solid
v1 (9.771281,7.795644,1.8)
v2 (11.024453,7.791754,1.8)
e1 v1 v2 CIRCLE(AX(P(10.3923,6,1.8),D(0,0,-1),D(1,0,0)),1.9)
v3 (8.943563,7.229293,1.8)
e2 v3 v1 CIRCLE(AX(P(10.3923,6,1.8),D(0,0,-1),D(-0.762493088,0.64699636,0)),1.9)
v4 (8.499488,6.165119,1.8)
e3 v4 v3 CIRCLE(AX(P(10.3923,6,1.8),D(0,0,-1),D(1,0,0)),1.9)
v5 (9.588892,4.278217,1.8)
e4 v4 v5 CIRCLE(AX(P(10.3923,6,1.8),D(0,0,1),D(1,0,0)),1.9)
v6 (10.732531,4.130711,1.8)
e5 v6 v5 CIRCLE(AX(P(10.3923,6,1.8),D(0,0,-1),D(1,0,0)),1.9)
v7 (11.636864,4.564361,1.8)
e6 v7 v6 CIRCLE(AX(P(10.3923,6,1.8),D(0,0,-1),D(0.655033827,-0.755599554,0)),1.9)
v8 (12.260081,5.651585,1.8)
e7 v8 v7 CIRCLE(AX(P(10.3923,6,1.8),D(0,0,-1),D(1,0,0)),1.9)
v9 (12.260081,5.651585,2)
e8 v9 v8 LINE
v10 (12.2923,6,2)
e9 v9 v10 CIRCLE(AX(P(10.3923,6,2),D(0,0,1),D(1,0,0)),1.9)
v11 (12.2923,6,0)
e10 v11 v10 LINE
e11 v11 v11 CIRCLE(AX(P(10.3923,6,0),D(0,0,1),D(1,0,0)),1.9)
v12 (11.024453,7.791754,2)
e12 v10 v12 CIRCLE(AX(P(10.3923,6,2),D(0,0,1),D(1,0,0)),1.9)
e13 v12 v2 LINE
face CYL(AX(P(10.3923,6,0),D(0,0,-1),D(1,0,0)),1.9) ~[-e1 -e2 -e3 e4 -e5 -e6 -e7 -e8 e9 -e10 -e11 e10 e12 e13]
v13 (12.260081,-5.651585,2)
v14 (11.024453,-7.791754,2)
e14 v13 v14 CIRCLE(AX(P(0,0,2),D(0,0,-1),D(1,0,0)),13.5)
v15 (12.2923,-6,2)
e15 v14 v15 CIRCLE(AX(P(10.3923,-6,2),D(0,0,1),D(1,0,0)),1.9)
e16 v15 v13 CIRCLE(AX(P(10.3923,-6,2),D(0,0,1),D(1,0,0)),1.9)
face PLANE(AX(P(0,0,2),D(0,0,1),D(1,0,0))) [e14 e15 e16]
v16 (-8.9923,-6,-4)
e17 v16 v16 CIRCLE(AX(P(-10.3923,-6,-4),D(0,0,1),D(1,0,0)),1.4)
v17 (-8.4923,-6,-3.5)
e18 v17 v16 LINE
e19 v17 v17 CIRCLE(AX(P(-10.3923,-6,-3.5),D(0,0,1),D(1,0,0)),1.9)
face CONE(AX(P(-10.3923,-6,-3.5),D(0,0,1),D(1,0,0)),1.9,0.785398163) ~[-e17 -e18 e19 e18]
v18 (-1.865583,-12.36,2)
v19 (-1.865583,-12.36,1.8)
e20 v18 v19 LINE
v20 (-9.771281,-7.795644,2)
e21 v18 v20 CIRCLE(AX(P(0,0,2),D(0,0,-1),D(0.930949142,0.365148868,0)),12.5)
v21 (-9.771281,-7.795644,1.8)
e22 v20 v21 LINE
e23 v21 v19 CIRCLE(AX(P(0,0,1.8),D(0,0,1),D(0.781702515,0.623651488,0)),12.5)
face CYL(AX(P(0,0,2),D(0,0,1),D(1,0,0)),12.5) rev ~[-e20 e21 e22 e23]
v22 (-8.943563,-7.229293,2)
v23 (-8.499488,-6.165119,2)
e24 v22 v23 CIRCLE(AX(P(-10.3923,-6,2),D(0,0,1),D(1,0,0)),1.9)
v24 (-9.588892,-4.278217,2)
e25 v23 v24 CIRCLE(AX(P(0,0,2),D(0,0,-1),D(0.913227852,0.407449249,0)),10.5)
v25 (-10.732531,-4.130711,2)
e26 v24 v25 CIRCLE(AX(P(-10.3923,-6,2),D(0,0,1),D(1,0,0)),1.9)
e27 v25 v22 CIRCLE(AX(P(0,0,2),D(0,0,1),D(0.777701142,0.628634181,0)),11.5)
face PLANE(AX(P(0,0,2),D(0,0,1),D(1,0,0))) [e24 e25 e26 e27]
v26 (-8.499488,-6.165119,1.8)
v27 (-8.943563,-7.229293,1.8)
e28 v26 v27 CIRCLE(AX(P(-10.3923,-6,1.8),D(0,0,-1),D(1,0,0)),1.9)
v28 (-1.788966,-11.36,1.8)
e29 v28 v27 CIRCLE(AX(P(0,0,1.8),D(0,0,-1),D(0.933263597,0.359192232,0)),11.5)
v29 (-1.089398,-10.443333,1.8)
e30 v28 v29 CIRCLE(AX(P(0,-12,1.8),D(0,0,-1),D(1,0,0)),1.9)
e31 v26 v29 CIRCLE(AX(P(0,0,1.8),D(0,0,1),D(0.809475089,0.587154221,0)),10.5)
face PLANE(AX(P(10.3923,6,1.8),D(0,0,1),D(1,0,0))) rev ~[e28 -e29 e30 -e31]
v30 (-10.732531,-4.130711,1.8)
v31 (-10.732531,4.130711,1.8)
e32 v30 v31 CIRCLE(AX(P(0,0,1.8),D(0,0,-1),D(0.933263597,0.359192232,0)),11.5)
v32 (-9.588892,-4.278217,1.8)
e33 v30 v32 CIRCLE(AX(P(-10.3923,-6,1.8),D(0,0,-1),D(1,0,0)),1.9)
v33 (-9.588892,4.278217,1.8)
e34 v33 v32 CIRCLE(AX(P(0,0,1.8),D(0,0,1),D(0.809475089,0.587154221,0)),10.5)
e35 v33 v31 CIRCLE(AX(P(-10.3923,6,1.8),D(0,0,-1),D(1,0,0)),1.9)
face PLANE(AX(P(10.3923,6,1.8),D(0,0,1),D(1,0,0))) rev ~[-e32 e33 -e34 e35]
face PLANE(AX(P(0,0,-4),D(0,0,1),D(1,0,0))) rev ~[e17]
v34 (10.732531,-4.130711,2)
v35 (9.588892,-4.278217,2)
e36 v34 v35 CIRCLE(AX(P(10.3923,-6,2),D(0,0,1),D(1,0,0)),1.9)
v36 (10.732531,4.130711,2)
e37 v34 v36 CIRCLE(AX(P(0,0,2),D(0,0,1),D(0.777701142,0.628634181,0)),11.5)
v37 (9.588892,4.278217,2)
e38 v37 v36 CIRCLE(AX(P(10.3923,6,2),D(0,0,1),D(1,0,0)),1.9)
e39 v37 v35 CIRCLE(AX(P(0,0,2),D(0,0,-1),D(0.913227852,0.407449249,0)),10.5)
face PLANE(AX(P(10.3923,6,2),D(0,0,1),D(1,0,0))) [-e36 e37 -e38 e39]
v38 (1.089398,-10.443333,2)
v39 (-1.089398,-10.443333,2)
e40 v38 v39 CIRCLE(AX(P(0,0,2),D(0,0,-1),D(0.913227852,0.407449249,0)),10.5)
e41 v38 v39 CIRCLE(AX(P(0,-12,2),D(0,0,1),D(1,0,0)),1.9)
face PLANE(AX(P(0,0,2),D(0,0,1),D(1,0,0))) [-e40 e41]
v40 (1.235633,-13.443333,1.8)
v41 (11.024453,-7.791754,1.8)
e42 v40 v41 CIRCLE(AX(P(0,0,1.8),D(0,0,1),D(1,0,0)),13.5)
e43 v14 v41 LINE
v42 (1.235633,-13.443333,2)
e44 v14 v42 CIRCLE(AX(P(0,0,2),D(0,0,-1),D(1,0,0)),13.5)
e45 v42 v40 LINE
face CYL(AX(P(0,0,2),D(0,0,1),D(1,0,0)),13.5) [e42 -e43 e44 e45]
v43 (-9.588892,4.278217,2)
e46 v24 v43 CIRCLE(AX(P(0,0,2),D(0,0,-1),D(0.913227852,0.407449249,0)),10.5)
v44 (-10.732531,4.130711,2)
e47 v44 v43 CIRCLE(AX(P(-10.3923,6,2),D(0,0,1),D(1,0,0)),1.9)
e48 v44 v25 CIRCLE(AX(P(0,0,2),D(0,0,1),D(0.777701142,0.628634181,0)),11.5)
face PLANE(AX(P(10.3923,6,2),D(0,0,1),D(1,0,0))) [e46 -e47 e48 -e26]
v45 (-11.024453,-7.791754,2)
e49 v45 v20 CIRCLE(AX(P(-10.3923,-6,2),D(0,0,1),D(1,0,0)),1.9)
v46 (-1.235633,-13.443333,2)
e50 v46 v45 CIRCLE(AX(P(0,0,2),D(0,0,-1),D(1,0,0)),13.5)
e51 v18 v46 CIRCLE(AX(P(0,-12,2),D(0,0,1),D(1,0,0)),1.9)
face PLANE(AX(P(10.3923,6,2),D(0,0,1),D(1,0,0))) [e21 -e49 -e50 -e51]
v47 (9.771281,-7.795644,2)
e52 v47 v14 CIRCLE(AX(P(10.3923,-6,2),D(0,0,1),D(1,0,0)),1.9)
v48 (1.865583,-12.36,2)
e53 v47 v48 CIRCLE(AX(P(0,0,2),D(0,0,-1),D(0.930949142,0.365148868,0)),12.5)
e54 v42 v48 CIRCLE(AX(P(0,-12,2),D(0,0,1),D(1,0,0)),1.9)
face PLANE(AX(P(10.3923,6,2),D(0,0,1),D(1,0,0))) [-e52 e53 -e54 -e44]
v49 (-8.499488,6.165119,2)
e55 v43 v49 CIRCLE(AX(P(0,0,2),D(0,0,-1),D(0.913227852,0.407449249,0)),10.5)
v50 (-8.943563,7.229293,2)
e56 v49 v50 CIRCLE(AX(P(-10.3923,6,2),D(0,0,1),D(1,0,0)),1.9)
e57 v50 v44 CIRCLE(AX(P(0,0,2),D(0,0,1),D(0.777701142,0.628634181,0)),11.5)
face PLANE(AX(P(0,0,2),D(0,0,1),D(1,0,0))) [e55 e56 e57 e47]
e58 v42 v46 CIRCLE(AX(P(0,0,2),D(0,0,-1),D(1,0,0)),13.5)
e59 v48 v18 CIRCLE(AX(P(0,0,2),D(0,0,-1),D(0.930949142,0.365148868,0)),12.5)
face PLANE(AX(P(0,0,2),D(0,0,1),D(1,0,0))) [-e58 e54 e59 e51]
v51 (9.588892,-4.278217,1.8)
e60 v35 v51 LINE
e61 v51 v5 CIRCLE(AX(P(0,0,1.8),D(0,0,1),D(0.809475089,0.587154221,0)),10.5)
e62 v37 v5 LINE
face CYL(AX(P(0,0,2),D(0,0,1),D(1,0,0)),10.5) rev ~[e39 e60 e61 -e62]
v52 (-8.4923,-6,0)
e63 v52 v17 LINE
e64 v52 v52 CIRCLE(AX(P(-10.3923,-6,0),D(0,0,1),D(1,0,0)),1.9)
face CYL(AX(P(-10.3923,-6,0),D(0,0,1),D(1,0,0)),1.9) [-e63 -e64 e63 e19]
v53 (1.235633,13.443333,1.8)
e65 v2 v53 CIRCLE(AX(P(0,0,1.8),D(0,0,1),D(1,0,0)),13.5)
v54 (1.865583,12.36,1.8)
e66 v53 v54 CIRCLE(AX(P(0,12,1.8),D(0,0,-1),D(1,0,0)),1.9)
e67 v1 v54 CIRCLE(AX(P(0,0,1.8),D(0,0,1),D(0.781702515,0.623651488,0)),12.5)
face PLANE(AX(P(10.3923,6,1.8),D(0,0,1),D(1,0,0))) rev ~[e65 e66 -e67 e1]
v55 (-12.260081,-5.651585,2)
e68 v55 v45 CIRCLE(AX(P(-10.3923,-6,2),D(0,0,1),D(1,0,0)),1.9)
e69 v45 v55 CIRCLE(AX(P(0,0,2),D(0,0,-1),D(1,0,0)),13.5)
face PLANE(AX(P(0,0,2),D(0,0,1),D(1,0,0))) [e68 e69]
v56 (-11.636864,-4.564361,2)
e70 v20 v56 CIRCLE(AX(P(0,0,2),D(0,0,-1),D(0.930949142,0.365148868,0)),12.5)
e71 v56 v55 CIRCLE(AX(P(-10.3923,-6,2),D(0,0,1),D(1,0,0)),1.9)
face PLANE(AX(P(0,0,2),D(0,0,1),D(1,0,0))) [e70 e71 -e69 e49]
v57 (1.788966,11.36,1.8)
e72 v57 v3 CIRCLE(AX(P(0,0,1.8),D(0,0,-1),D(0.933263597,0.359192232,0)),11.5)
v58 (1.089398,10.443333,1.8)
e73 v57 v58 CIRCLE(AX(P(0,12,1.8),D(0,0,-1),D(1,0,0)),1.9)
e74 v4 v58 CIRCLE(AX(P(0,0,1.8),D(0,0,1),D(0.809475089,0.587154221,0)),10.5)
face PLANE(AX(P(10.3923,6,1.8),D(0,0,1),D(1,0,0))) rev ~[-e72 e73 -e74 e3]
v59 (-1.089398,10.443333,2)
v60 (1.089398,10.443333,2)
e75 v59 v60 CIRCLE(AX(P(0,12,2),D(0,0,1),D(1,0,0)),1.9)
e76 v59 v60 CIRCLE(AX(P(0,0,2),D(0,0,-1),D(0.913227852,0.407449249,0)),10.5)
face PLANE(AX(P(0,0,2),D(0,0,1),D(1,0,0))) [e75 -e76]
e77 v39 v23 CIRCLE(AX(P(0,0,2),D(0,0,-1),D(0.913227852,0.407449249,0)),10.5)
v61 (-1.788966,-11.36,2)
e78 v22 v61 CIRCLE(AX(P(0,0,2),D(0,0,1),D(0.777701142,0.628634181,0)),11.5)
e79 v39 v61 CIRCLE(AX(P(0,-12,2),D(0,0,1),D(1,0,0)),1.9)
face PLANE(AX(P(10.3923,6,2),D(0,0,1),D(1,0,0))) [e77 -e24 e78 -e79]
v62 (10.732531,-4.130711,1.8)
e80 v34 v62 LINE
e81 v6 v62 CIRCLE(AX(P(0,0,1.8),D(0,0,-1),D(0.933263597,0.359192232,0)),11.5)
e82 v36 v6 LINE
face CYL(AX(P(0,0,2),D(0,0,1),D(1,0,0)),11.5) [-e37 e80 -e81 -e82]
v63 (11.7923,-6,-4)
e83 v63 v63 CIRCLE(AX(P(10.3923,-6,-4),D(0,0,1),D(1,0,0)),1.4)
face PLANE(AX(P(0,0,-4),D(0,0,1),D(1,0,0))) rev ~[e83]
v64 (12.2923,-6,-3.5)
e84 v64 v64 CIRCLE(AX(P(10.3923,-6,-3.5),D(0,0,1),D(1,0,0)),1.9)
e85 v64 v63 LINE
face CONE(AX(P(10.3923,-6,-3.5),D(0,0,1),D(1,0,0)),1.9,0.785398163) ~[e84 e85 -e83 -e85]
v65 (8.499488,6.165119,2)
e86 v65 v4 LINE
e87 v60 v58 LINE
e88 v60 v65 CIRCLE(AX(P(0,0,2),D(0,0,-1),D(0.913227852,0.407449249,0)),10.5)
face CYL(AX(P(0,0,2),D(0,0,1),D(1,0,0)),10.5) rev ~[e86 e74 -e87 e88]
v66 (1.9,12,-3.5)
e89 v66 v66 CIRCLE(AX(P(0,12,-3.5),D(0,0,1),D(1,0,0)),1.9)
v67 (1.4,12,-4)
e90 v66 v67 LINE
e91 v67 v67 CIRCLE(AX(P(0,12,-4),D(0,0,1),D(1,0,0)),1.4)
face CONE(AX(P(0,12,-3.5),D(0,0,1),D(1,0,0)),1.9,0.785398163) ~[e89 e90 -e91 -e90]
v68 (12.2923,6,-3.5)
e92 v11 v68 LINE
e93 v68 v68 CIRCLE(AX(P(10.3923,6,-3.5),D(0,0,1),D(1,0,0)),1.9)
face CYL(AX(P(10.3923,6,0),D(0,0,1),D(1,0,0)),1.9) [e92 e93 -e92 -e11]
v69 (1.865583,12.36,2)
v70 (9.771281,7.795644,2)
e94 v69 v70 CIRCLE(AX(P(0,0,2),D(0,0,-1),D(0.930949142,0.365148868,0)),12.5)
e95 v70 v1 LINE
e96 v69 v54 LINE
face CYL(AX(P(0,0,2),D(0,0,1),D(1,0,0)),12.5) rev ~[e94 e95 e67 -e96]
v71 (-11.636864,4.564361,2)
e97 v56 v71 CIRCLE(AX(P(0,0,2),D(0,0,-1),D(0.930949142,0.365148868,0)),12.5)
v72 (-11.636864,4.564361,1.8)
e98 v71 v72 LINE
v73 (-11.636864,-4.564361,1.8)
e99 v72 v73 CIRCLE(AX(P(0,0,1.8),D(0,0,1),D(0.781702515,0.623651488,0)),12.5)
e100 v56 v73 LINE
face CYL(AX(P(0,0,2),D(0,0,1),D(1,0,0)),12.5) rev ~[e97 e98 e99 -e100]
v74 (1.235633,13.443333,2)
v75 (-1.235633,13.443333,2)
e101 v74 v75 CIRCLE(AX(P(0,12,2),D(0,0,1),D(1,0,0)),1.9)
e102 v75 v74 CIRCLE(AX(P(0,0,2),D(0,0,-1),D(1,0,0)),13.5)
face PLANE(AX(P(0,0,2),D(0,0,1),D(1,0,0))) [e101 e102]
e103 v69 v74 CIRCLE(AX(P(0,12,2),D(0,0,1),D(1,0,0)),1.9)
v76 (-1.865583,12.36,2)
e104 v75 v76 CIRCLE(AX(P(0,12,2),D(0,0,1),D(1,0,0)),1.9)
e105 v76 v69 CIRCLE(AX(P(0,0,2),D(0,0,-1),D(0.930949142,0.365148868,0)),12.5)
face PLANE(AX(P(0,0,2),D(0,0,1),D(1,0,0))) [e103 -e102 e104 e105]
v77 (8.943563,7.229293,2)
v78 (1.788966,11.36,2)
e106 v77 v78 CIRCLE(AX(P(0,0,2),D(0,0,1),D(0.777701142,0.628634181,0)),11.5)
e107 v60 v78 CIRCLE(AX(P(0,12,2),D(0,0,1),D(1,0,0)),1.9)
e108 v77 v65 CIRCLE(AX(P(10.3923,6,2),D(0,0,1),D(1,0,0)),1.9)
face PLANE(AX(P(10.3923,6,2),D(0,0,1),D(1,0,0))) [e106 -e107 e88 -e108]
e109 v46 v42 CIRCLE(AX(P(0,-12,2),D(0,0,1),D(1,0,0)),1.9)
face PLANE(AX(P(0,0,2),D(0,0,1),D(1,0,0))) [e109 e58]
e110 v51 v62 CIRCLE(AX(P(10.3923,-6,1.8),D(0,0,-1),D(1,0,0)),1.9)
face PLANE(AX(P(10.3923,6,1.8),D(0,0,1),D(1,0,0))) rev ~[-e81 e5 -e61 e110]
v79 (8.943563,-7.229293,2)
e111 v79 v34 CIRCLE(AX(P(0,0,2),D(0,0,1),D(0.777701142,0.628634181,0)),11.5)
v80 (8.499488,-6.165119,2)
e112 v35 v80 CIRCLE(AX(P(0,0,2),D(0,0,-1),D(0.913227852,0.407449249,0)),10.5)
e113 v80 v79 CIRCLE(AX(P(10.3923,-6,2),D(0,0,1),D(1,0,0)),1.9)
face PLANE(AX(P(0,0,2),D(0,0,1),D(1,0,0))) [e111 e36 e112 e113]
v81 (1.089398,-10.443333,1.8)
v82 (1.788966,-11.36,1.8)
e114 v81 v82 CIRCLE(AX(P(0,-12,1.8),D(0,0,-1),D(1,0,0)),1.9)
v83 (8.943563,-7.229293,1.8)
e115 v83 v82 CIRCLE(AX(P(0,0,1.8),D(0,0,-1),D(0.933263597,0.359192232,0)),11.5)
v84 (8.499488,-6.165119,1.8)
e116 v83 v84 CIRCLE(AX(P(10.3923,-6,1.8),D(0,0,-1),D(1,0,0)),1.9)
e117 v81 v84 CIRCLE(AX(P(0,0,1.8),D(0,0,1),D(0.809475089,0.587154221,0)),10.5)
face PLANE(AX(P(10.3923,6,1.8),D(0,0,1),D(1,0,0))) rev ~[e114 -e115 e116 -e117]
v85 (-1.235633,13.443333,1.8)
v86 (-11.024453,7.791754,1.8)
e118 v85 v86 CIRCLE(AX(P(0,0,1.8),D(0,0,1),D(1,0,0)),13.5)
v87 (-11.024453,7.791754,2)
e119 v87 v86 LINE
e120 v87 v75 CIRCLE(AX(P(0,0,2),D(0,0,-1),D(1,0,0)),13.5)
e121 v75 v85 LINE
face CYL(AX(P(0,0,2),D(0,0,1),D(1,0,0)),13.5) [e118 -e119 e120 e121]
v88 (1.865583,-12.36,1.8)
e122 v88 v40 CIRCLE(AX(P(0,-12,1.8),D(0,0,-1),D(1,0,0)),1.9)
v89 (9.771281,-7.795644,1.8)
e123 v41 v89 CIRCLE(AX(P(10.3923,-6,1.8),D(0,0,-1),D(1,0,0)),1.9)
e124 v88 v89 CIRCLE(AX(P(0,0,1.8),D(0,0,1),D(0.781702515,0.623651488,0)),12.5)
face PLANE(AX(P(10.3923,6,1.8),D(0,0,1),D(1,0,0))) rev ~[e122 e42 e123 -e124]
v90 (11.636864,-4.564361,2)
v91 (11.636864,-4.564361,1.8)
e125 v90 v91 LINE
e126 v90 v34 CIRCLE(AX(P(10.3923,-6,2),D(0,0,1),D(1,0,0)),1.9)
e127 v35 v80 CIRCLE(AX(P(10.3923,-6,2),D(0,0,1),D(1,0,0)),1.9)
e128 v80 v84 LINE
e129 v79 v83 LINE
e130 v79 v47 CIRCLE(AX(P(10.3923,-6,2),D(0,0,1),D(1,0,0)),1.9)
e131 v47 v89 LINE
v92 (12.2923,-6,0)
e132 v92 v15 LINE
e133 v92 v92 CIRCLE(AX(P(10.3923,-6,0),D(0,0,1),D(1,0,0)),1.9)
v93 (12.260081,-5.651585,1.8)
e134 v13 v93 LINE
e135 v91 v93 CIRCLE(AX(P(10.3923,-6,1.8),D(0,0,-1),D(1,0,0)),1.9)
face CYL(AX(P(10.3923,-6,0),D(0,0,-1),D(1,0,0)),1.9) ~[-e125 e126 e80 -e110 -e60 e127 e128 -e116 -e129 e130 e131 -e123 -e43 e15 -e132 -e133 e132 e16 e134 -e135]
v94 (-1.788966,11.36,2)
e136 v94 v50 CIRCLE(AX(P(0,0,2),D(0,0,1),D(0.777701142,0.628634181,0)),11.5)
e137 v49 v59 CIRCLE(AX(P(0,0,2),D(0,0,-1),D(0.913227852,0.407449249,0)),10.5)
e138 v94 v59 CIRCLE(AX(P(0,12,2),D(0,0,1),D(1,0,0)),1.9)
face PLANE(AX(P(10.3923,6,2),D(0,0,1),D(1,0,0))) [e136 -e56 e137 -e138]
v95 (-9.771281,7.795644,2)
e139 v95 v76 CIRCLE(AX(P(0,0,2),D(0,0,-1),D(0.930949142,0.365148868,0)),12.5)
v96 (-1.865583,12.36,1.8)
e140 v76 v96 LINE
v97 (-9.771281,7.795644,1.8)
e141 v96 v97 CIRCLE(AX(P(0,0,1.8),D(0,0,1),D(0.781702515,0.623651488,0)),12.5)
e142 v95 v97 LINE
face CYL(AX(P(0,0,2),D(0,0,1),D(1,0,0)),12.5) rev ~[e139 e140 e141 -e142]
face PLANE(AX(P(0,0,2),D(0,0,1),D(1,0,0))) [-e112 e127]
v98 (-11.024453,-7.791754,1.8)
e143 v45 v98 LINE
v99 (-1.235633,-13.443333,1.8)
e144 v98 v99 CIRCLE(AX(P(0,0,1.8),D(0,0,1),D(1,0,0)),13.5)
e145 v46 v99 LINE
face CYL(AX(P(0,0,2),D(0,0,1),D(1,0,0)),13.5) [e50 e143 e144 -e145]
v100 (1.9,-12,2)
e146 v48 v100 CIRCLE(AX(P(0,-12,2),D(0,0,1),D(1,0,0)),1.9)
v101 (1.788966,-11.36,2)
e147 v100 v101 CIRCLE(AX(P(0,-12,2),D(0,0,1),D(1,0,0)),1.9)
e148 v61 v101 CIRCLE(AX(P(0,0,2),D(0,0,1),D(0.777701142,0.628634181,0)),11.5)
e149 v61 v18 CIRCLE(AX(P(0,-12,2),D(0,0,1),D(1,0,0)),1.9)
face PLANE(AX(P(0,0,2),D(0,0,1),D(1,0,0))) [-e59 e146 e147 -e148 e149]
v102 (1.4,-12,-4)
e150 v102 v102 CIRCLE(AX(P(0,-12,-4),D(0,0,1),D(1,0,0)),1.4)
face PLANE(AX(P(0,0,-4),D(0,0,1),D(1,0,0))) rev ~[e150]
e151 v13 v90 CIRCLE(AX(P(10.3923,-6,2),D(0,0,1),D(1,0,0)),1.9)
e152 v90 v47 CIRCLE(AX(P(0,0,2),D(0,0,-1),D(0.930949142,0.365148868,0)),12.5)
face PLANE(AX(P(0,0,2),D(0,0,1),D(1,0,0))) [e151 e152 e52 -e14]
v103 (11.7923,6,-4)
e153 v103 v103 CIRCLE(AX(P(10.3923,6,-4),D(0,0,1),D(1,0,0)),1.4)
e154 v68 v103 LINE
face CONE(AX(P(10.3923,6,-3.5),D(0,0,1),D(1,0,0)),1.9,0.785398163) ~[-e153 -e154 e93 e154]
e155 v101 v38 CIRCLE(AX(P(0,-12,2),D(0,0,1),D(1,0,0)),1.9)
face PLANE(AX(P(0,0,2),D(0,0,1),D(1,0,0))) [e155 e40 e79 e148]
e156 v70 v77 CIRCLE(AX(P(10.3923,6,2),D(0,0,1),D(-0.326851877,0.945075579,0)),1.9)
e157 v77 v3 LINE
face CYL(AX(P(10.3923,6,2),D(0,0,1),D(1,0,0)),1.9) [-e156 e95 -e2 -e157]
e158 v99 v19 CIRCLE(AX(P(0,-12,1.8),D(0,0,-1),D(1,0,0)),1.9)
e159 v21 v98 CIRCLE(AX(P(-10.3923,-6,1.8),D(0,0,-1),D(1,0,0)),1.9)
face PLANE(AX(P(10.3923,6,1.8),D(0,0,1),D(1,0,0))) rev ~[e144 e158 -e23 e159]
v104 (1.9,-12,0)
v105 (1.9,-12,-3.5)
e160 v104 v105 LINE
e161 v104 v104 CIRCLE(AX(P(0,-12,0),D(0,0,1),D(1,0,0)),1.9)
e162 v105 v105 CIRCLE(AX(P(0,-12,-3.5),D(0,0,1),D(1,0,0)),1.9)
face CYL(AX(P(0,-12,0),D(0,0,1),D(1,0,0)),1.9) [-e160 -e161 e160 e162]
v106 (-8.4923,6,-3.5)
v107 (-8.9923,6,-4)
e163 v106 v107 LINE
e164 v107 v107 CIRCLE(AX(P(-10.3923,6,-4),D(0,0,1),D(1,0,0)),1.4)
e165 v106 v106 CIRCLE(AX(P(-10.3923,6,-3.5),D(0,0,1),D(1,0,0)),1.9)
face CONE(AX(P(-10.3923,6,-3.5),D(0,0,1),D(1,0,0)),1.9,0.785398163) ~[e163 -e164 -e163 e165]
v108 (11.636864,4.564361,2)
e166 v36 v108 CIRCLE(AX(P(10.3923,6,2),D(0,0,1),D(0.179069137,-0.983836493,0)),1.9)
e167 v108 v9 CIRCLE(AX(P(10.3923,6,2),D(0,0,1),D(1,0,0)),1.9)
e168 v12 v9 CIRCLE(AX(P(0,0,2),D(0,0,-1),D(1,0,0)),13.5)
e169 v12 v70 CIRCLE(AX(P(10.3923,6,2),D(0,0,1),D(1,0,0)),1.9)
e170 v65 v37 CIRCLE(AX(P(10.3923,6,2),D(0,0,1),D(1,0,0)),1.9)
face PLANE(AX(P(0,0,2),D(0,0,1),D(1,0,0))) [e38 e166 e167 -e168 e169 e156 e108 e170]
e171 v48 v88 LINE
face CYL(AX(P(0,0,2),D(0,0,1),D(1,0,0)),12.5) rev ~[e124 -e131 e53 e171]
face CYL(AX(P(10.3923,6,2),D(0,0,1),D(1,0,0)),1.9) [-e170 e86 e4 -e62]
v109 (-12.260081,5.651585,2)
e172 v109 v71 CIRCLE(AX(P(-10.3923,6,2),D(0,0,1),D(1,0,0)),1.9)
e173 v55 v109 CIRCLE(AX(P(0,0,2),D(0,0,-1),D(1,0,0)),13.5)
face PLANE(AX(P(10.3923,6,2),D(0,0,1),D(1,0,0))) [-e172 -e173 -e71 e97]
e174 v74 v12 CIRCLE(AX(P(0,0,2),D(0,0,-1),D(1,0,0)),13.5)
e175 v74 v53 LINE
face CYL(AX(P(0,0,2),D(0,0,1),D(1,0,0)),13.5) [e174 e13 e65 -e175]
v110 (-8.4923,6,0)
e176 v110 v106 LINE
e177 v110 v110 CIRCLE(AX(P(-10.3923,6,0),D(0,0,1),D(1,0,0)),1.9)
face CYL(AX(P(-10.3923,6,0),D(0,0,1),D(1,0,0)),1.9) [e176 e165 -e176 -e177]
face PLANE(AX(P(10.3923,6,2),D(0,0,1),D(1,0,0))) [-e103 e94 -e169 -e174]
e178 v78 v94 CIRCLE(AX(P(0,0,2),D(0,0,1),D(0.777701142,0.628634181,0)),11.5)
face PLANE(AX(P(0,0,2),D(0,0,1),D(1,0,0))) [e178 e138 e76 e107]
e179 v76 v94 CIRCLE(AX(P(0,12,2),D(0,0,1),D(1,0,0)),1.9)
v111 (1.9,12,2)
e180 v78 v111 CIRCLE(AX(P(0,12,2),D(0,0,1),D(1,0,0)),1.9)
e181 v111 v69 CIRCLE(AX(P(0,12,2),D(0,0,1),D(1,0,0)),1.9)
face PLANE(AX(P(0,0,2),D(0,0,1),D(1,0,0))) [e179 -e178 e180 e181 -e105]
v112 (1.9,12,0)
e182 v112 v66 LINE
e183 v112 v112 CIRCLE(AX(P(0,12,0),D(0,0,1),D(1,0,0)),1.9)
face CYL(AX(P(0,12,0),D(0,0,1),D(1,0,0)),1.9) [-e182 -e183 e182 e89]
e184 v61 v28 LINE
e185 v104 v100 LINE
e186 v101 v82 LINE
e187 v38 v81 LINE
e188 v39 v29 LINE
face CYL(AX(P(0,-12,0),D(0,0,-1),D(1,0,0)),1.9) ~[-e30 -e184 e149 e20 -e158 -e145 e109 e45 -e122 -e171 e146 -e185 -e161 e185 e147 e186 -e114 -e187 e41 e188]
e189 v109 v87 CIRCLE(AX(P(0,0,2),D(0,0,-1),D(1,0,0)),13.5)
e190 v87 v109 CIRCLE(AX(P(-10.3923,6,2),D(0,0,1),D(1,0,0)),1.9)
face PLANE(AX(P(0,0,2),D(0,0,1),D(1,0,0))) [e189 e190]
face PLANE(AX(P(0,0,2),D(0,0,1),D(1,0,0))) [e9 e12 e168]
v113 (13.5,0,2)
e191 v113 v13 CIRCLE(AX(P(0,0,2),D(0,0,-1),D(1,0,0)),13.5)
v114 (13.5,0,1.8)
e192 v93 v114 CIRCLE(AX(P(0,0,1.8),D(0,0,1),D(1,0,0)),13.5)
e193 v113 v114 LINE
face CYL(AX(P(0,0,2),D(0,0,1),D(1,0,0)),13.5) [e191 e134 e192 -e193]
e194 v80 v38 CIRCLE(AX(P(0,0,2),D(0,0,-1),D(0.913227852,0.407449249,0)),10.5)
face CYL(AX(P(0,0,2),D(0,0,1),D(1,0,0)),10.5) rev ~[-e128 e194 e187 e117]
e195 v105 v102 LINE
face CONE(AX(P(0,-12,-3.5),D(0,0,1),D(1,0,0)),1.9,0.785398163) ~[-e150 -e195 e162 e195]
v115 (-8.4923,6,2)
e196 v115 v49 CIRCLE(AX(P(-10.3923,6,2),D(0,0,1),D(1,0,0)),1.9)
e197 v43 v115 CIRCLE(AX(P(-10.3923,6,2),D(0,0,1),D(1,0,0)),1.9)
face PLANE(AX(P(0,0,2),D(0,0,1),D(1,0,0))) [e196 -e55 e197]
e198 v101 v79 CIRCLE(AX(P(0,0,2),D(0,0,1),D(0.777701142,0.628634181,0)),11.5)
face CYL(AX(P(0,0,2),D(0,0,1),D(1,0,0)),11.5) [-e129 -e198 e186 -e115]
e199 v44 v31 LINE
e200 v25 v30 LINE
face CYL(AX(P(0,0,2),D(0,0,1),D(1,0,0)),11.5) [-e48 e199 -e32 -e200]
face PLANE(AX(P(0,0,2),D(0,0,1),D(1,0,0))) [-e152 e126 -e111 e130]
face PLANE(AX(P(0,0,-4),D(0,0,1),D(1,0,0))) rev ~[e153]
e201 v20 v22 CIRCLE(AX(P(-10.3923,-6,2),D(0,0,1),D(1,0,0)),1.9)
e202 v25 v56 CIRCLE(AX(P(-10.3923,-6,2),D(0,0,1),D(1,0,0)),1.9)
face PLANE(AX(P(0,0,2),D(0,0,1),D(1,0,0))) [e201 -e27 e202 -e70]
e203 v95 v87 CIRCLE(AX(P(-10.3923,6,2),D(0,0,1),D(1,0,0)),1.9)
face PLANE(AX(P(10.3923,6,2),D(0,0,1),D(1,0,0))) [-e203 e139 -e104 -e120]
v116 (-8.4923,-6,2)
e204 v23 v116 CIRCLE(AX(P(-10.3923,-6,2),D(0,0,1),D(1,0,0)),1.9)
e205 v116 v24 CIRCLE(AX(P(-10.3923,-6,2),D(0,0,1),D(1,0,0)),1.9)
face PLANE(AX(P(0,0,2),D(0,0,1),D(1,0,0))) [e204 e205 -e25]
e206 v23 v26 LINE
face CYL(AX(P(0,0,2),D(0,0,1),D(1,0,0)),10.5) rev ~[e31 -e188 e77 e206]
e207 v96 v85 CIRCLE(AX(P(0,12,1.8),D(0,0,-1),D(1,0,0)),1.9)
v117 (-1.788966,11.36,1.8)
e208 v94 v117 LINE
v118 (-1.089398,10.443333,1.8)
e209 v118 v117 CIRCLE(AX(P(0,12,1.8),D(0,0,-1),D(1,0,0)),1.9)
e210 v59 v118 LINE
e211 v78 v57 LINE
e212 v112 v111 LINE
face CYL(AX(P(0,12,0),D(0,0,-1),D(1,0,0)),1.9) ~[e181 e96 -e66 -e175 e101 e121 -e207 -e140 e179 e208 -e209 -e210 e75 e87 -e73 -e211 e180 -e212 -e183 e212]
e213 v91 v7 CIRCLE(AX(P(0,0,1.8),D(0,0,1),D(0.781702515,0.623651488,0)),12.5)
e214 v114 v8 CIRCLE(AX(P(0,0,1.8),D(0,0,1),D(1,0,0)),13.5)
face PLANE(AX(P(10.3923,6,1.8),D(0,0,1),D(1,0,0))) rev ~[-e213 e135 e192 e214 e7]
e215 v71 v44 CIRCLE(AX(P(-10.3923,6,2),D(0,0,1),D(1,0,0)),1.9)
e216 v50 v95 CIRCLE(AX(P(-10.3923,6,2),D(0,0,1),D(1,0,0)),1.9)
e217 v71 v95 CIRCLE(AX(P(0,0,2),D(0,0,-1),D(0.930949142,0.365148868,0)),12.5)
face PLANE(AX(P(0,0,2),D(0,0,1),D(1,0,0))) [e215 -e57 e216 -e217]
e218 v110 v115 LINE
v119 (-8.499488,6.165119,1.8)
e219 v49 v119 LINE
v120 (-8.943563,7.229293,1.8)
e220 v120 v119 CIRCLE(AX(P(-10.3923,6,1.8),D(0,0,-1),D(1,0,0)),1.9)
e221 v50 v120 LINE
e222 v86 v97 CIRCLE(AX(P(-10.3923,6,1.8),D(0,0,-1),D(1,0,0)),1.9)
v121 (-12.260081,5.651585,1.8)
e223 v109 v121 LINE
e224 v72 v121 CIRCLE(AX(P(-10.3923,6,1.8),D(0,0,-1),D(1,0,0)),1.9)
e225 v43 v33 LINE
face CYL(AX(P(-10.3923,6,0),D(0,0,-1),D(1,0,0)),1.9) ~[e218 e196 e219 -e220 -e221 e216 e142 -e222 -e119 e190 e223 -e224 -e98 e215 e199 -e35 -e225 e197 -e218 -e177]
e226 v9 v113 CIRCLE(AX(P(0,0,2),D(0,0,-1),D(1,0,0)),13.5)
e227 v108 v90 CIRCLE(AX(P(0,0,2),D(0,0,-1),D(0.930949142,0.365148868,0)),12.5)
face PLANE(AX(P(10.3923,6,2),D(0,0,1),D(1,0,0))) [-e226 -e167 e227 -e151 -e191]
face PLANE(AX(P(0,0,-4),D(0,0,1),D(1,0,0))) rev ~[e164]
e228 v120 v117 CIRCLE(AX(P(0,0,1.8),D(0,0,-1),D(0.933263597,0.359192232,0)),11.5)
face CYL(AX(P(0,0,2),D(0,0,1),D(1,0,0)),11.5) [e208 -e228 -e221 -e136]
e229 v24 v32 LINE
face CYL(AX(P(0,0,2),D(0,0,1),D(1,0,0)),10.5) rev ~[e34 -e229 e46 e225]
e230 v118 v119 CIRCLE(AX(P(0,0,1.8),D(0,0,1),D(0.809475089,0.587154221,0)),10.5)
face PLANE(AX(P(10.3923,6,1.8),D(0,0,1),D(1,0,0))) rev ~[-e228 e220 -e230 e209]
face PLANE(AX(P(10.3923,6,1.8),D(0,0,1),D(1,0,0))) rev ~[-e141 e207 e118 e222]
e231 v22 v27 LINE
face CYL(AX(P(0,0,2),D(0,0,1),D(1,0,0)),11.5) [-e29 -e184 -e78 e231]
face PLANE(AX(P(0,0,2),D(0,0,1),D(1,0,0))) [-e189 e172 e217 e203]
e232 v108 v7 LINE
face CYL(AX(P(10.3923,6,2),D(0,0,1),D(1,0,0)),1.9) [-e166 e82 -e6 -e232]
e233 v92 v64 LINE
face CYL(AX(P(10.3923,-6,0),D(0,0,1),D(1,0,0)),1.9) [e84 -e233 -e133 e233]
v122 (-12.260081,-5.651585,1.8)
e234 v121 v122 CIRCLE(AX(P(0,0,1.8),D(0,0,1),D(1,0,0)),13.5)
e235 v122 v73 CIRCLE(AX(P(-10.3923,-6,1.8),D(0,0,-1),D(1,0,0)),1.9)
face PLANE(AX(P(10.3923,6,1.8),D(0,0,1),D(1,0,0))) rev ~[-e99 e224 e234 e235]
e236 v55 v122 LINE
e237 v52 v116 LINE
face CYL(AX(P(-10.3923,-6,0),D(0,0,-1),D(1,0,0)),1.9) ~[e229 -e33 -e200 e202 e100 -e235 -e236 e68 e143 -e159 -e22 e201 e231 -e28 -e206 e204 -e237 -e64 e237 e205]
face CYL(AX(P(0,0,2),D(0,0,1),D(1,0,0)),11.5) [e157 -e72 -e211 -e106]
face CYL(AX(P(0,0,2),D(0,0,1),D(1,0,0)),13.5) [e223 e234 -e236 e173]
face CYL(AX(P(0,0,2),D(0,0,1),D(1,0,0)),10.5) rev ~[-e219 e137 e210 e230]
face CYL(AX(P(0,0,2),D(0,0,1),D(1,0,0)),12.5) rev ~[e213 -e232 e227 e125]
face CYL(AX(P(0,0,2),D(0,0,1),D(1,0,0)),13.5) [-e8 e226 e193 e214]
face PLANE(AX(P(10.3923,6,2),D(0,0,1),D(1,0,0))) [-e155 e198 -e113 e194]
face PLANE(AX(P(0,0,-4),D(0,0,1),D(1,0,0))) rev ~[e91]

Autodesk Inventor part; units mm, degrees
ref_plane "YZ Plane" through (0, 0, 0) normal (1, 0, 0) x (0, 1, 0)
ref_plane "XZ Plane" through (0, 0, 0) normal (0, 1, 0) x (-1, 0, 0)
ref_plane "XY Plane" through (0, 0, 0) normal (0, 0, 1) x (1, 0, 0)
sketch "Эскиз1" plane through (0, 0, 0) normal (0, 0, 1) x (1, 0, 0)
  circle A0 centre (10.3923, 6) radius 2 projected
  circle A1 centre (10.3923, -6) radius 2 projected
  circle A2 centre (0, -12) radius 2 projected
  circle A3 centre (-10.3923, -6) radius 2 projected
  circle A4 centre (0, 0) radius 4 projected
  arc A5 (4.659, 13.202) -> (0, 14) centre (0, 0) ccw projected
  circle A6 centre (0, 12) radius 2 projected
  arc A7 (0, 14) -> (-4.659, 13.202) centre (0, 0) ccw projected
  arc A8 (-3.5064, 12.0732) -> (-4.659, 13.202) centre (-6.1045, 10.5732) ccw projected
  line L0 (-3.5064, 12.0732) -> (-2.63, 7.3847) projected
  arc A9 (-5.0804, 5.97) -> (-2.63, 7.3847) centre (-4.1045, 7.1091) ccw projected
  line L1 (-5.0804, 5.97) -> (-8.7025, 9.0732) projected
  arc A10 (-9.1038, 10.6358) -> (-8.7025, 9.0732) centre (-6.1045, 10.5732) ccw projected
  arc A11 (-9.1038, 10.6358) -> (-12.1244, 7) centre (0, 0) ccw projected
  circle A12 centre (-10.3923, 6) radius 2 projected
  arc A13 (-12.1244, 7) -> (-13.7628, 2.5662) centre (0, 0) ccw projected
  arc A14 (-12.2089, 3) -> (-13.7628, 2.5662) centre (-12.2089, 0) ccw projected
  line L2 (-12.2089, 3) -> (-7.7104, 1.4147) projected
  arc A15 (-7.7104, -1.4147) -> (-7.7104, 1.4147) centre (-8.2089, 0) ccw projected
  line L3 (-7.7104, -1.4147) -> (-12.2089, -3) projected
  arc A16 (-13.7628, -2.5662) -> (-12.2089, -3) centre (-12.2089, 0) ccw projected
  arc A17 (-13.7628, -2.5662) -> (-12.1244, -7) centre (0, 0) ccw projected
  circle A18 centre (-10.3923, -6) radius 2 projected
  arc A19 (-12.1244, -7) -> (-9.1038, -10.6358) centre (0, 0) ccw projected
  arc A20 (-8.7025, -9.0732) -> (-9.1038, -10.6358) centre (-6.1045, -10.5732) ccw projected
  line L4 (-8.7025, -9.0732) -> (-5.0804, -5.97) projected
  arc A21 (-2.63, -7.3847) -> (-5.0804, -5.97) centre (-4.1045, -7.1091) ccw projected
  line L5 (-2.63, -7.3847) -> (-3.5064, -12.0732) projected
  arc A22 (-4.659, -13.202) -> (-3.5064, -12.0732) centre (-6.1045, -10.5732) ccw projected
  arc A23 (-4.659, -13.202) -> (0, -14) centre (0, 0) ccw projected
  circle A24 centre (0, -12) radius 2 projected
  arc A25 (0, -14) -> (4.659, -13.202) centre (0, 0) ccw projected
  arc A26 (3.5064, -12.0732) -> (4.659, -13.202) centre (6.1045, -10.5732) ccw projected
  line L6 (3.5064, -12.0732) -> (2.63, -7.3847) projected
  arc A27 (5.0804, -5.97) -> (2.63, -7.3847) centre (4.1045, -7.1091) ccw projected
  line L7 (5.0804, -5.97) -> (8.7025, -9.0732) projected
  arc A28 (9.1038, -10.6358) -> (8.7025, -9.0732) centre (6.1045, -10.5732) ccw projected
  arc A29 (9.1038, -10.6358) -> (12.1244, -7) centre (0, 0) ccw projected
  circle A30 centre (10.3923, -6) radius 2 projected
  arc A31 (12.1244, -7) -> (13.7628, -2.5662) centre (0, 0) ccw projected
  arc A32 (12.2089, -3) -> (13.7628, -2.5662) centre (12.2089, 0) ccw projected
  line L8 (12.2089, -3) -> (7.7104, -1.4147) projected
  arc A33 (7.7104, 1.4147) -> (7.7104, -1.4147) centre (8.2089, 0) ccw projected
  line L9 (7.7104, 1.4147) -> (12.2089, 3) projected
  arc A34 (13.7628, 2.5662) -> (12.2089, 3) centre (12.2089, 0) ccw projected
  arc A35 (13.7628, 2.5662) -> (12.1244, 7) centre (0, 0) ccw projected
  circle A36 centre (10.3923, 6) radius 2 projected
  arc A37 (12.1244, 7) -> (9.1038, 10.6358) centre (0, 0) ccw projected
  arc A38 (8.7025, 9.0732) -> (9.1038, 10.6358) centre (6.1045, 10.5732) ccw projected
  line L10 (8.7025, 9.0732) -> (5.0804, 5.97) projected
  arc A39 (2.63, 7.3847) -> (5.0804, 5.97) centre (4.1045, 7.1091) ccw projected
  line L11 (2.63, 7.3847) -> (3.5064, 12.0732) projected
  arc A40 (4.659, 13.202) -> (3.5064, 12.0732) centre (6.1045, 10.5732) ccw projected
  circle A41 centre (10.3923, 6) radius 1.9
  circle A42 centre (0, 12) radius 1.9
  circle A43 centre (-10.3923, 6) radius 1.9
  circle A44 centre (-10.3923, -6) radius 1.9
  circle A45 centre (0, -12) radius 1.9
  circle A46 centre (10.3923, -6) radius 1.9
  point P0 (0, 0)
  dimension "d0" = 0.1
  dimension "d3" = 360
extrude "Выдавливание1" add sketch "Эскиз1" along normal blind 2 and the other way blind 4 contours A41 | A42 | A43 | A44 | A45 | A46
sketch "Эскиз2" plane through (10.3923, 6, 2) normal (0, 0, 1) x (1, 0, 0)
  circle A0 centre (0, 0) radius 1.9 projected
  circle A1 centre (0, 0) radius 1.9 projected
  circle A2 centre (-10.3923, -6) radius 12
  circle A3 centre (-10.3923, -6) radius 10.5
  circle A4 centre (-10.3923, -6) radius 13.5
  circle A5 centre (-10.3923, -6) radius 12.5
  circle A6 centre (-10.3923, -6) radius 11.5
  point P0 (-0.8034, -1.7218)
  point P1 (-1.8928, 0.1651)
  point P2 (-0.621, 1.7956)
  point P3 (-1.4487, 1.2293)
  point P4 (0.3402, -1.8693)
  point P5 (1.2446, -1.4356)
  dimension "d9" = 1.5
  dimension "d12" = 1.5
  dimension "d13" = 0.5
  dimension "d14" = 0.5
extrude "Выдавливание2" add sketch "Эскиз2" against normal blind 0.2 contours A4 A0 A5 | A0 A5 A4 | A5 A0 A2 | A2 A0 A6 | A6 A0 A3 | A0 A3 A6 | A3 A0 picked at (0.2342, -0.105) picked at (-0.0588, -0.2643) picked at (-1.3755, -0.8832)
chamfer "Фаска1" distance 0.5 angle 45 6 edges at (8.4923, 6, -4) (-1.9, 12, -4) (8.4923, -6, -4) (-1.9, -12, -4) (-12.2923, -6, -4) (-12.2923, 6, -4)
properties part number "СкреплениеКатков"
